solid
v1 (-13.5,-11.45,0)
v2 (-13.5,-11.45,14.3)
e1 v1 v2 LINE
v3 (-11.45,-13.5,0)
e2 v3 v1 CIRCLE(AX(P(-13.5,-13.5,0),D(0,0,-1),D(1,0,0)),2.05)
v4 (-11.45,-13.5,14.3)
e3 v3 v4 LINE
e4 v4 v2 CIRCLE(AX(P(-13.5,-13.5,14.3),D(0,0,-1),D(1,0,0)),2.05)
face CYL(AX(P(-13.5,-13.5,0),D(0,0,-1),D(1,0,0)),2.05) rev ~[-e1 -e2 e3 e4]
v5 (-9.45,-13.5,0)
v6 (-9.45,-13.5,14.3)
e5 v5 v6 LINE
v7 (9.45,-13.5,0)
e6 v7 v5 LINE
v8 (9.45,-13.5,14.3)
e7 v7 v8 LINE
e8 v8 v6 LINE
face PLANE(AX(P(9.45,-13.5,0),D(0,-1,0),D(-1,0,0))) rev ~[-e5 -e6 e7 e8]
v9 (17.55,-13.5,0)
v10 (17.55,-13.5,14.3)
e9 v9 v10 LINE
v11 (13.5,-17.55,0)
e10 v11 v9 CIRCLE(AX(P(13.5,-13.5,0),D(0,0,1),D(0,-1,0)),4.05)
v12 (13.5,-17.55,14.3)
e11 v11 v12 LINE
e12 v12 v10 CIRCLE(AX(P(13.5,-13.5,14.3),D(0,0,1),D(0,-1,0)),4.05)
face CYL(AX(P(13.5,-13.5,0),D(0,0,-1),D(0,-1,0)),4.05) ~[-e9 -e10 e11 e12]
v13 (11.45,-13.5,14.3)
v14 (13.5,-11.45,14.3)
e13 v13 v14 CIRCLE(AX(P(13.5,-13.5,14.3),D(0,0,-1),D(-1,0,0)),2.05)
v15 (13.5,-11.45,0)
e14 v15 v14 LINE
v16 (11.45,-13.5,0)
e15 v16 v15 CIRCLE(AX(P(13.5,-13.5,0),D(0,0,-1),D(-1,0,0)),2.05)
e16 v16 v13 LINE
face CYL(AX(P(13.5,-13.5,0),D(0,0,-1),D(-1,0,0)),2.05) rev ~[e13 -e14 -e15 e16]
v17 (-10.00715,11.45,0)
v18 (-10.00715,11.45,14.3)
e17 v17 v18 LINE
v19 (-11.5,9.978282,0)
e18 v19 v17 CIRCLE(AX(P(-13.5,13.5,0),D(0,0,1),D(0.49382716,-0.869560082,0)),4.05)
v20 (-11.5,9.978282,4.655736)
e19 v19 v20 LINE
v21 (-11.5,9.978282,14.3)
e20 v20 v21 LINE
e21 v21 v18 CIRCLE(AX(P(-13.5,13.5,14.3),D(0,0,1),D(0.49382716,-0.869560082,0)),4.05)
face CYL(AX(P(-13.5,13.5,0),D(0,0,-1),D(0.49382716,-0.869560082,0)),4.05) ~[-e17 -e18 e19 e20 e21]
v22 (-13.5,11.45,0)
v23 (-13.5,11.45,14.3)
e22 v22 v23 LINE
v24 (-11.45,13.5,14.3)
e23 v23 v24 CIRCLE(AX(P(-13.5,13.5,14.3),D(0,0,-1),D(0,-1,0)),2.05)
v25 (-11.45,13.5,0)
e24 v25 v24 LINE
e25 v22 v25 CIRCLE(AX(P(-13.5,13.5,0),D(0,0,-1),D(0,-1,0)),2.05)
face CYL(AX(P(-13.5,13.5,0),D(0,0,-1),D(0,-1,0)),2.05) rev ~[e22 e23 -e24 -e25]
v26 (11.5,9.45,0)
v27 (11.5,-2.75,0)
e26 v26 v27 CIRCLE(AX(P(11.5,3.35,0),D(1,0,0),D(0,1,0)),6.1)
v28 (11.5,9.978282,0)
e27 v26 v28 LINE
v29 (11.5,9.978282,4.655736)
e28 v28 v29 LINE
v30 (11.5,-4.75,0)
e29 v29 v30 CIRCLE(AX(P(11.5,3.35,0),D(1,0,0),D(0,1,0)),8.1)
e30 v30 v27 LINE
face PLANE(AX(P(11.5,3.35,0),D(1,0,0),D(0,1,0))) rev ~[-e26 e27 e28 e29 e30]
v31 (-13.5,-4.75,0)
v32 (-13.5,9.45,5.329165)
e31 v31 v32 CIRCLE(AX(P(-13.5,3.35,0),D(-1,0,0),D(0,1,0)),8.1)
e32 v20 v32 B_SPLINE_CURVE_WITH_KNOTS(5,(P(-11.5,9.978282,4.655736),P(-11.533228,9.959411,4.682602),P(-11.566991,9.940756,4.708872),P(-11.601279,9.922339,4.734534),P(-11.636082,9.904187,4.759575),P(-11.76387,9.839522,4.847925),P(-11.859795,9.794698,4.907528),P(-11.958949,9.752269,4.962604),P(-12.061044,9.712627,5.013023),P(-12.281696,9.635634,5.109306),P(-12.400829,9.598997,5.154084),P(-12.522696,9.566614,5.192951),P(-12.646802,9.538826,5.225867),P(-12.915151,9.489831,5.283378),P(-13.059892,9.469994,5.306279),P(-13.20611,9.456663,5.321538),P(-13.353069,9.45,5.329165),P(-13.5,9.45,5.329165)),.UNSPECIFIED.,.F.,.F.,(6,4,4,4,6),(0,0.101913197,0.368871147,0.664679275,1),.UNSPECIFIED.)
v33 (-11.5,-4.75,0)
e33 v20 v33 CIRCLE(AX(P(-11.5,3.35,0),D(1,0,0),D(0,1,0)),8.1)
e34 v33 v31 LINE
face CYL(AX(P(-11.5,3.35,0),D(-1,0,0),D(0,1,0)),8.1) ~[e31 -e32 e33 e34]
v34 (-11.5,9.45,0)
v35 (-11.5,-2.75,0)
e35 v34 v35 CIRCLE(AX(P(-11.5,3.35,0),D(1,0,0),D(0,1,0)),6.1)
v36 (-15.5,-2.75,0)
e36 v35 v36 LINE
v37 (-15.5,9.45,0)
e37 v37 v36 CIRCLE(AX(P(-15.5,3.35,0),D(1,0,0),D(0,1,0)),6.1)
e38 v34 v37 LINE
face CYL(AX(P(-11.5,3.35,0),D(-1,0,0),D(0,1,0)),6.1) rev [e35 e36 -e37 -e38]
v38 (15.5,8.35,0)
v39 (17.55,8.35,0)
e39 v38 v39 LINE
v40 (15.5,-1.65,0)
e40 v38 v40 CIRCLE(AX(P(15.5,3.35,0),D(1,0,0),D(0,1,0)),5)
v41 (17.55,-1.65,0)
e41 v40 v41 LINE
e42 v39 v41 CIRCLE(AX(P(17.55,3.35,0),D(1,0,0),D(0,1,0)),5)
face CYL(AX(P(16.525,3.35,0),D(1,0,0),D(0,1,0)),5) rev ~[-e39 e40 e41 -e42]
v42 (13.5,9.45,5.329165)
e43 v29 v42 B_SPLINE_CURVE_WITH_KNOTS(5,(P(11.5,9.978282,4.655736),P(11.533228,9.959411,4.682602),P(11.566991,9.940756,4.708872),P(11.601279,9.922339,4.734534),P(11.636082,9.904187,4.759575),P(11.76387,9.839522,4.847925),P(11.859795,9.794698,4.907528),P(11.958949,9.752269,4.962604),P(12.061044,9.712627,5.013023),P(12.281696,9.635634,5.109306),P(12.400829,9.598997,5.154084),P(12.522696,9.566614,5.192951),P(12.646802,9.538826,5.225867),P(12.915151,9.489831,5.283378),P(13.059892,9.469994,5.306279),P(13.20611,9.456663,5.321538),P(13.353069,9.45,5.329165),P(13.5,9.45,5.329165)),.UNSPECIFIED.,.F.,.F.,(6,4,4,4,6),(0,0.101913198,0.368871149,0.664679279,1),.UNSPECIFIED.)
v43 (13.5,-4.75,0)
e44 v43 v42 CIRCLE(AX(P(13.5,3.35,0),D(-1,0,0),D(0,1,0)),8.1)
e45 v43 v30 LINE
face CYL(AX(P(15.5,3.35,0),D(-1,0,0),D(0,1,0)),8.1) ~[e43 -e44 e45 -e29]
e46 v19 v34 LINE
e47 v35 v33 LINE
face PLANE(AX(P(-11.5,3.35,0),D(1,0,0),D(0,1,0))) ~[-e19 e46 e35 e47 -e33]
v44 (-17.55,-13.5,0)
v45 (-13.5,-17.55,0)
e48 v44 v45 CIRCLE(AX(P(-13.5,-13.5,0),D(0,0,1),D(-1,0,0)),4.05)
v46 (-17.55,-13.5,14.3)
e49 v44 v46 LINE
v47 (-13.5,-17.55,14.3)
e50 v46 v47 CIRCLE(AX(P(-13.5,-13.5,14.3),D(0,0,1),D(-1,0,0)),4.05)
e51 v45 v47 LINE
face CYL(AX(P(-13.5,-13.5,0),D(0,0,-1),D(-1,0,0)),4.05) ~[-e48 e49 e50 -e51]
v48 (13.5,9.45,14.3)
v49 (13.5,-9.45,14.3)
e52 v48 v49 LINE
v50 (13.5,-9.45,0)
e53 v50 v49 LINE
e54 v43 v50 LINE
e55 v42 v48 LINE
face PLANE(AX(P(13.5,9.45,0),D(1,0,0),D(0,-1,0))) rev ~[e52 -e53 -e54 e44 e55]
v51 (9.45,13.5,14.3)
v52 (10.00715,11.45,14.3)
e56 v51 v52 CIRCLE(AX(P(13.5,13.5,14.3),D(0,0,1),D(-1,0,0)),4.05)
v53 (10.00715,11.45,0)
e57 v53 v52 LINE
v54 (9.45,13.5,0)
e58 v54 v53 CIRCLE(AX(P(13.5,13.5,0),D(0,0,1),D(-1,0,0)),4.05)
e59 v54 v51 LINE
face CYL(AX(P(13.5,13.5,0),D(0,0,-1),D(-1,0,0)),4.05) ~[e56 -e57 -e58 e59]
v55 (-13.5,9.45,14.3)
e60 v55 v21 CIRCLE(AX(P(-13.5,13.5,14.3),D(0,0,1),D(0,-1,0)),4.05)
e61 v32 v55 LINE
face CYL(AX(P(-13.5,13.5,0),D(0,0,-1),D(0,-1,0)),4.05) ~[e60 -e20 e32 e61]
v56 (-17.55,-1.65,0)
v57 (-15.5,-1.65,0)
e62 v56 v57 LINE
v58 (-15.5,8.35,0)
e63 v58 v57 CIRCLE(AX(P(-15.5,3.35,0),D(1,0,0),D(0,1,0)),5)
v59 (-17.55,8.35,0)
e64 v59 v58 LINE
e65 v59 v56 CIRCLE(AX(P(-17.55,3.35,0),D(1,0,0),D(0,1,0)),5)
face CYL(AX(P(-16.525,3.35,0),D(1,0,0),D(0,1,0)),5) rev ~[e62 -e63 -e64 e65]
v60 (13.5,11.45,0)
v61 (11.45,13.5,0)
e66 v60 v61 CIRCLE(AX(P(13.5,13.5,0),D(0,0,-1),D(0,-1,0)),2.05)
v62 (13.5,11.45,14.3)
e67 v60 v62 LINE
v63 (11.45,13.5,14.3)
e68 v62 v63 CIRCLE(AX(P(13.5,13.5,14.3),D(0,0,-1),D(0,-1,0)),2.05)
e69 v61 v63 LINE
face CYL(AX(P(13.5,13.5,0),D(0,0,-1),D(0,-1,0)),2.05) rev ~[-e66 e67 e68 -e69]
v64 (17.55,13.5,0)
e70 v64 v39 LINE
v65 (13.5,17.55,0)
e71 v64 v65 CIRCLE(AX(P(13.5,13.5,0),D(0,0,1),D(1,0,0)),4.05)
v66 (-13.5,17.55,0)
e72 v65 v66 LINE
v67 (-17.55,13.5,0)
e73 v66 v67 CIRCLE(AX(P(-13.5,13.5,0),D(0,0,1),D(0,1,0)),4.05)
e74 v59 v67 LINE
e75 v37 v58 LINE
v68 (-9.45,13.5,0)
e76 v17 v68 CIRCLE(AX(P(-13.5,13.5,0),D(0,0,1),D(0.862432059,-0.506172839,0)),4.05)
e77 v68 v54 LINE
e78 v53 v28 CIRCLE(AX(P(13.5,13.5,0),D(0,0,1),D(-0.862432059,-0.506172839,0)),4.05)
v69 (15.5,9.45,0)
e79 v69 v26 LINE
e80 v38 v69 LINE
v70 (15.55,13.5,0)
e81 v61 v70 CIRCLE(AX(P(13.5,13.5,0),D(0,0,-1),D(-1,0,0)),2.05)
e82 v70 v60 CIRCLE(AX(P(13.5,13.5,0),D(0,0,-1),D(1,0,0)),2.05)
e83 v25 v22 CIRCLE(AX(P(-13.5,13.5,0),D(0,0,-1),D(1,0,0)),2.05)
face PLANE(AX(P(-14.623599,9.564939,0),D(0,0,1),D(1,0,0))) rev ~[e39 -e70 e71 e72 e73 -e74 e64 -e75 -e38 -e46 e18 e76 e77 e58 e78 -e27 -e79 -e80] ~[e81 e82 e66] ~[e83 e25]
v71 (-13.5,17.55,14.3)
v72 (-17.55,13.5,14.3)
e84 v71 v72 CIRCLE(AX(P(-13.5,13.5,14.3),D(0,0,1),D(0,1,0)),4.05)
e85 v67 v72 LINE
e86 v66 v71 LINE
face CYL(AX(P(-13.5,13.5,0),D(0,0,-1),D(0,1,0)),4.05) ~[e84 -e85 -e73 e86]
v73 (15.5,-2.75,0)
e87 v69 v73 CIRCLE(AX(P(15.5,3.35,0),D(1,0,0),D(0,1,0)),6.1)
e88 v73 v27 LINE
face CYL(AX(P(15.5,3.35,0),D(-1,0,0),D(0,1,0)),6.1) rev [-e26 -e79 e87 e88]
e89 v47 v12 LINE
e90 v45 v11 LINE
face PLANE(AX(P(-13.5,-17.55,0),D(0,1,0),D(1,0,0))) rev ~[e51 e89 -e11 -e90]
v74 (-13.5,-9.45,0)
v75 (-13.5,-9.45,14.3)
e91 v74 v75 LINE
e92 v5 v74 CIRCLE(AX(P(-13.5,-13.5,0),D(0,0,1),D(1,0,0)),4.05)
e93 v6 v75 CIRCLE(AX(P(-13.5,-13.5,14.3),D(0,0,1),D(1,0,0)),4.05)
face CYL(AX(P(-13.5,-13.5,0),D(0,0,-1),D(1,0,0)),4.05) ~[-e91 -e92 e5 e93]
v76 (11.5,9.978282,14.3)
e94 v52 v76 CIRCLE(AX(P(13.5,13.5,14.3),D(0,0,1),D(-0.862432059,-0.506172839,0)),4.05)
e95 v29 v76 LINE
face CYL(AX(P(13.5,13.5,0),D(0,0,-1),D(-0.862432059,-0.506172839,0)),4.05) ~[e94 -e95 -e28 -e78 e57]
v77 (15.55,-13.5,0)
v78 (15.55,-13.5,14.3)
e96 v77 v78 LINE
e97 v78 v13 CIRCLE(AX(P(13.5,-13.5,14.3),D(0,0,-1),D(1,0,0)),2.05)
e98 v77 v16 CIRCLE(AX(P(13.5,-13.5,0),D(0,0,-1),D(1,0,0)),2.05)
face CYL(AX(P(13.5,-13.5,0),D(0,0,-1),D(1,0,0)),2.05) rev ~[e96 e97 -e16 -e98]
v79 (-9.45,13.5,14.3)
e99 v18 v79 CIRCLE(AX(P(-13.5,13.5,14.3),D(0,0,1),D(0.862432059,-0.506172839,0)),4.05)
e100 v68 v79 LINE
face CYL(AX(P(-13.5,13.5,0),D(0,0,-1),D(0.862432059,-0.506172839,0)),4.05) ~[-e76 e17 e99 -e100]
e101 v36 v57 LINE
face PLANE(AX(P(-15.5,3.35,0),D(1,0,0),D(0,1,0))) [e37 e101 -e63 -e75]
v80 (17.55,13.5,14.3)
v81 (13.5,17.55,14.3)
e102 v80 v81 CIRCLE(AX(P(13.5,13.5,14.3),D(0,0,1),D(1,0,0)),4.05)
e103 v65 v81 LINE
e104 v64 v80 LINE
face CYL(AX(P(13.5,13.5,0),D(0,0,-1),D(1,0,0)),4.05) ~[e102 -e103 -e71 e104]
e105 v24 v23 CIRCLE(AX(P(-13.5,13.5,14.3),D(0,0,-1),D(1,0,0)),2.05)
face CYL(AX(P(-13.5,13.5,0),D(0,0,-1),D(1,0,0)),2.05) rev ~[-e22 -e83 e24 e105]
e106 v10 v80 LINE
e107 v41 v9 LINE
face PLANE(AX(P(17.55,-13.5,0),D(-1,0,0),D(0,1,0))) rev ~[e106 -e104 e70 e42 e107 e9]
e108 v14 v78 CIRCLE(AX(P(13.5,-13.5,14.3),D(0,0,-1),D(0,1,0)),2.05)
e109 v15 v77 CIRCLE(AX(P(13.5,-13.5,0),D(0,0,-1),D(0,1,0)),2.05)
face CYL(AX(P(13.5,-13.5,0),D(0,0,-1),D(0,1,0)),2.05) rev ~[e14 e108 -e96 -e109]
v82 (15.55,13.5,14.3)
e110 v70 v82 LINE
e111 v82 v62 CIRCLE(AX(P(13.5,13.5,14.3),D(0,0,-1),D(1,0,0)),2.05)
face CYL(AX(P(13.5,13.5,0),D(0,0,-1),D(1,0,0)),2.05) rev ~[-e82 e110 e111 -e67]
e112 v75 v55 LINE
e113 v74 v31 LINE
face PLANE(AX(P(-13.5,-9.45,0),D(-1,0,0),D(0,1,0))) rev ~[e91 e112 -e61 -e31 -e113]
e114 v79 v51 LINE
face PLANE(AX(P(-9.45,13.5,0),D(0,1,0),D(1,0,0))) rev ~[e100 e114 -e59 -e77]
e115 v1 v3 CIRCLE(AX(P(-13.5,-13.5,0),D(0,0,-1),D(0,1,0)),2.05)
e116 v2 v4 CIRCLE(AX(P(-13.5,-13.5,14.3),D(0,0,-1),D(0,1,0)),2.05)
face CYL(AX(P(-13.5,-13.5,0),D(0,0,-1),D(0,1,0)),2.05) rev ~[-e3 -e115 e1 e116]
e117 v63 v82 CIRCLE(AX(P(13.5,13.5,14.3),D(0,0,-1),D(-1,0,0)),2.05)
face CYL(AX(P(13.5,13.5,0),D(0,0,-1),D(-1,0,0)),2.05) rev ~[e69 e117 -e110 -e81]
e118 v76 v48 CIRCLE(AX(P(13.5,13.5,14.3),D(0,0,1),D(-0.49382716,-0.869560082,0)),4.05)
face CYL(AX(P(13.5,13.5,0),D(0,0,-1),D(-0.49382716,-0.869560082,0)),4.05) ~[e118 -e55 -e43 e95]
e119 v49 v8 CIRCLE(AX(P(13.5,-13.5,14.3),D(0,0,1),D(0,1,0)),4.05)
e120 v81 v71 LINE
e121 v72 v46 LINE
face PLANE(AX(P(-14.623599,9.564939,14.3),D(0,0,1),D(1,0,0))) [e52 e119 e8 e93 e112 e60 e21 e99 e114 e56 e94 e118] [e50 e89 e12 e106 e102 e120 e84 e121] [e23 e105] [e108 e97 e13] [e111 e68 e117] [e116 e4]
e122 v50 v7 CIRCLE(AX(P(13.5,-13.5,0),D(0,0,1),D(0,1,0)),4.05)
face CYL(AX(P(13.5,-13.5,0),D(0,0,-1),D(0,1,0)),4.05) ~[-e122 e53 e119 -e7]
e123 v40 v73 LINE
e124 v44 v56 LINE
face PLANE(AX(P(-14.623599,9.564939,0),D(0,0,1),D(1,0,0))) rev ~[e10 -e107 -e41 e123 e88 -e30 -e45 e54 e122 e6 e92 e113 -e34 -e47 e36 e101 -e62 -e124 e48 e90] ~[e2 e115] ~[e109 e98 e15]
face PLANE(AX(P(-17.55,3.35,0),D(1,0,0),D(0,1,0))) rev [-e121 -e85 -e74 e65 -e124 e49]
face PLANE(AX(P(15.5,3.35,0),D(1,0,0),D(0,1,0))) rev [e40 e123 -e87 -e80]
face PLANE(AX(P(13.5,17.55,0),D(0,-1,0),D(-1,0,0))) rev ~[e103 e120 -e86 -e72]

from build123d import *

# Parameters (mm, degrees)
F0_W     = 2
F0_H     = 6.1
F0_H_2   = 2
F0_W_2   = 2.05
F0_H_3   = 5
F1_DEPTH = 14.3
F2_ANGLE = 180
F3_ANGLE = 180


with BuildPart() as f1:
    # F0 (on Top) → F1 (new body)
    with BuildSketch(Plane.XY):
        with BuildLine():
            ThreePointArc((-13.5, 9.45), (-14.5342970466, 9.5842970466), (-15.5, 9.9782816694))
            Line((-15.5, 9.9782816694), (-15.5, 9.45))
            Line((-15.5, 9.45), (-13.5, 9.45))
        make_face()
        with BuildLine():
            ThreePointArc((-9.45, 13.5), (-10.6362175362, 16.3637824638), (-13.5, 17.55))
            ThreePointArc((-13.5, 17.55), (-16.3637824638, 16.3637824638), (-17.55, 13.5))
            ThreePointArc((-17.55, 13.5), (-17.0001785669, 11.4625383439), (-15.5, 9.9782816694))
            Line((-15.5, 9.9782816694), (-15.5, 11.45))
            Line((-15.5, 11.45), (-13.5, 11.45))
            ThreePointArc((-13.5, 11.45), (-14.9495689014, 14.9495689014), (-11.45, 13.5))
            Line((-11.45, 13.5), (-9.45, 13.5))
        make_face()
        with BuildLine():
            Line((-15.5, 11.45), (-15.5, 9.9782816694))
            ThreePointArc((-15.5, 9.9782816694), (-14.5342970466, 9.5842970466), (-13.5, 9.45))
            Line((-13.5, 9.45), (-13.5, 11.45))
            Line((-13.5, 11.45), (-15.5, 11.45))
        make_face()
        with BuildLine():
            ThreePointArc((-15.5, 9.9782816694), (-17.0001785669, 11.4625383439), (-17.55, 13.5))
            Line((-17.55, 13.5), (-17.55, 8.35))
            Line((-17.55, 8.35), (-15.5, 8.35))
            Line((-15.5, 8.35), (-15.5, 9.45))
            Line((-15.5, 9.45), (-15.5, 9.9782816694))
        make_face()
        with Locations((-14.5, 0.3)):
            Rectangle(F0_W, F0_H)
        with Locations((-14.5, -3.75)):
            Rectangle(F0_W, F0_H_2)
        with BuildLine():
            ThreePointArc((-13.5, -9.45), (-16.3637824638, -10.6362175362), (-17.55, -13.5))
            ThreePointArc((-17.55, -13.5), (-16.3637824638, -16.3637824638), (-13.5, -17.55))
            ThreePointArc((-13.5, -17.55), (-10.6362175362, -16.3637824638), (-9.45, -13.5))
            Line((-9.45, -13.5), (-11.45, -13.5))
            ThreePointArc((-11.45, -13.5), (-14.9495689014, -14.9495689014), (-13.5, -11.45))
            Line((-13.5, -11.45), (-13.5, -9.45))
        make_face()
        with BuildLine():
            Line((-13.5, -17.55), (13.5, -17.55))
            ThreePointArc((13.5, -17.55), (10.6362175362, -16.3637824638), (9.45, -13.5))
            Line((9.45, -13.5), (-9.45, -13.5))
            ThreePointArc((-9.45, -13.5), (-10.6362175362, -16.3637824638), (-13.5, -17.55))
        make_face()
        with BuildLine():
            ThreePointArc((-9.45, -13.5), (-10.6362175362, -10.6362175362), (-13.5, -9.45))
            Line((-13.5, -9.45), (-13.5, -11.45))
            ThreePointArc((-13.5, -11.45), (-12.0504310986, -12.0504310986), (-11.45, -13.5))
            Line((-11.45, -13.5), (-9.45, -13.5))
        make_face()
        with BuildLine():
            ThreePointArc((13.5, -17.55), (16.3637824638, -16.3637824638), (17.55, -13.5))
            ThreePointArc((17.55, -13.5), (16.3637824638, -10.6362175362), (13.5, -9.45))
            Line((13.5, -9.45), (13.5, -11.45))
            ThreePointArc((13.5, -11.45), (14.9495689014, -12.0504310986), (15.55, -13.5))
            ThreePointArc((15.55, -13.5), (13.5, -15.55), (11.45, -13.5))
            Line((11.45, -13.5), (9.45, -13.5))
            ThreePointArc((9.45, -13.5), (10.6362175362, -16.3637824638), (13.5, -17.55))
        make_face()
        with BuildLine():
            Line((13.5, -11.45), (13.5, -9.45))
            ThreePointArc((13.5, -9.45), (10.6362175362, -10.6362175362), (9.45, -13.5))
            Line((9.45, -13.5), (11.45, -13.5))
            ThreePointArc((11.45, -13.5), (12.0504310986, -12.0504310986), (13.5, -11.45))
        make_face()
        with BuildLine():
            Line((17.55, 8.35), (17.55, 13.5))
            ThreePointArc((17.55, 13.5), (17.0001785669, 11.4625383439), (15.5, 9.9782816694))
            Line((15.5, 9.9782816694), (15.5, 9.45))
            Line((15.5, 9.45), (15.5, 8.35))
            Line((15.5, 8.35), (17.55, 8.35))
        make_face()
        with Locations((14.5, -3.75)):
            Rectangle(F0_W, F0_H_2)
        with Locations((14.5, 0.3)):
            Rectangle(F0_W, F0_H)
        with BuildLine():
            Line((15.5, 9.45), (15.5, 9.9782816694))
            ThreePointArc((15.5, 9.9782816694), (14.5342970466, 9.5842970466), (13.5, 9.45))
            Line((13.5, 9.45), (15.5, 9.45))
        make_face()
        with BuildLine():
            ThreePointArc((13.5, 9.45), (14.5342970466, 9.5842970466), (15.5, 9.9782816694))
            Line((15.5, 9.9782816694), (15.5, 11.45))
            Line((15.5, 11.45), (13.5, 11.45))
            Line((13.5, 11.45), (13.5, 9.45))
        make_face()
        with BuildLine():
            ThreePointArc((11.5, 9.9782816694), (12.4657029534, 9.5842970466), (13.5, 9.45))
            Line((13.5, 9.45), (13.5, 11.45))
            Line((13.5, 11.45), (11.5, 11.45))
            Line((11.5, 11.45), (11.5, 9.9782816694))
        make_face()
        with BuildLine():
            Line((11.5, 11.45), (10.0071501607, 11.45))
            ThreePointArc((10.0071501607, 11.45), (10.6567028733, 10.6158776986), (11.5, 9.9782816694))
            Line((11.5, 9.9782816694), (11.5, 11.45))
        make_face()
        with BuildLine():
            Line((11.45, 13.5), (9.45, 13.5))
            ThreePointArc((9.45, 13.5), (9.5917688241, 12.4378187182), (10.0071501607, 11.45))
            Line((10.0071501607, 11.45), (11.5, 11.45))
            Line((11.5, 11.45), (13.5, 11.45))
            ThreePointArc((13.5, 11.45), (12.0504310986, 12.0504310986), (11.45, 13.5))
        make_face()
        with BuildLine():
            ThreePointArc((17.55, 13.5), (16.3637824638, 16.3637824638), (13.5, 17.55))
            ThreePointArc((13.5, 17.55), (10.6362175362, 16.3637824638), (9.45, 13.5))
            Line((9.45, 13.5), (11.45, 13.5))
            ThreePointArc((11.45, 13.5), (13.5, 15.55), (15.55, 13.5))
            ThreePointArc((15.55, 13.5), (14.9495689014, 12.0504310986), (13.5, 11.45))
            Line((13.5, 11.45), (15.5, 11.45))
            Line((15.5, 11.45), (15.5, 9.9782816694))
            ThreePointArc((15.5, 9.9782816694), (17.0001785669, 11.4625383439), (17.55, 13.5))
        make_face()
        with BuildLine():
            ThreePointArc((9.45, 13.5), (10.6362175362, 16.3637824638), (13.5, 17.55))
            Line((13.5, 17.55), (-13.5, 17.55))
            ThreePointArc((-13.5, 17.55), (-10.6362175362, 16.3637824638), (-9.45, 13.5))
            Line((-9.45, 13.5), (9.45, 13.5))
        make_face()
        with BuildLine():
            ThreePointArc((-10.0071501607, 11.45), (-9.5917688241, 12.4378187182), (-9.45, 13.5))
            Line((-9.45, 13.5), (-11.45, 13.5))
            ThreePointArc((-11.45, 13.5), (-12.0504310986, 12.0504310986), (-13.5, 11.45))
            Line((-13.5, 11.45), (-11.5, 11.45))
            Line((-11.5, 11.45), (-10.0071501607, 11.45))
        make_face()
        with BuildLine():
            Line((-11.5, 11.45), (-13.5, 11.45))
            Line((-13.5, 11.45), (-13.5, 9.45))
            ThreePointArc((-13.5, 9.45), (-12.4657029534, 9.5842970466), (-11.5, 9.9782816694))
            Line((-11.5, 9.9782816694), (-11.5, 11.45))
        make_face()
        with BuildLine():
            ThreePointArc((-11.5, 9.9782816694), (-10.6567028733, 10.6158776986), (-10.0071501607, 11.45))
            Line((-10.0071501607, 11.45), (-11.5, 11.45))
            Line((-11.5, 11.45), (-11.5, 9.9782816694))
        make_face()
        with BuildLine():
            Line((-15.5, 3.35), (-17.55, 3.35))
            Line((-17.55, 3.35), (-17.55, -13.5))
            ThreePointArc((-17.55, -13.5), (-16.3637824638, -10.6362175362), (-13.5, -9.45))
            Line((-13.5, -9.45), (-13.5, -4.75))
            Line((-13.5, -4.75), (-15.5, -4.75))
            Line((-15.5, -4.75), (-15.5, -2.75))
            Line((-15.5, -2.75), (-15.5, 3.35))
        make_face()
        with Locations((-16.525, 5.85)):
            Rectangle(F0_W_2, F0_H_3)
        Polygon((-15.5, 9.45), (-15.5, 8.35), (-15.5, 3.35), (-13.5, 3.35), (-13.5, 9.45), align=None)
        with Locations((16.525, 5.85)):
            Rectangle(F0_W_2, F0_H_3)
        Polygon((15.5, 3.35), (15.5, 8.35), (15.5, 9.45), (13.5, 9.45), (13.5, 3.35), align=None)
        with BuildLine():
            Line((17.55, -13.5), (17.55, 3.35))
            Line((17.55, 3.35), (15.5, 3.35))
            Line((15.5, 3.35), (15.5, -2.75))
            Line((15.5, -2.75), (15.5, -4.75))
            Line((15.5, -4.75), (13.5, -4.75))
            Line((13.5, -4.75), (13.5, -9.45))
            ThreePointArc((13.5, -9.45), (16.3637824638, -10.6362175362), (17.55, -13.5))
        make_face()
    extrude(amount=F1_DEPTH)

    # F0 (on Top) → F2 (revolve)
    with BuildSketch(Plane.XY):
        with Locations((-16.525, 5.85)):
            Rectangle(F0_W_2, F0_H_3)
        Polygon((-15.5, 9.45), (-15.5, 8.35), (-15.5, 3.35), (-13.5, 3.35), (-13.5, 9.45), align=None)
        with Locations((-12.5, 6.4)):
            Rectangle(F0_W, F0_H)
        with BuildLine():
            Line((-11.5, 11.45), (-13.5, 11.45))
            Line((-13.5, 11.45), (-13.5, 9.45))
            ThreePointArc((-13.5, 9.45), (-12.4657029534, 9.5842970466), (-11.5, 9.9782816694))
            Line((-11.5, 9.9782816694), (-11.5, 11.45))
        make_face()
        with BuildLine():
            Line((-15.5, 11.45), (-15.5, 9.9782816694))
            ThreePointArc((-15.5, 9.9782816694), (-14.5342970466, 9.5842970466), (-13.5, 9.45))
            Line((-13.5, 9.45), (-13.5, 11.45))
            Line((-13.5, 11.45), (-15.5, 11.45))
        make_face()
        with BuildLine():
            ThreePointArc((11.5, 9.9782816694), (12.4657029534, 9.5842970466), (13.5, 9.45))
            Line((13.5, 9.45), (13.5, 11.45))
            Line((13.5, 11.45), (11.5, 11.45))
            Line((11.5, 11.45), (11.5, 9.9782816694))
        make_face()
        with Locations((12.5, 6.4)):
            Rectangle(F0_W, F0_H)
        Polygon((15.5, 3.35), (15.5, 8.35), (15.5, 9.45), (13.5, 9.45), (13.5, 3.35), align=None)
        with BuildLine():
            ThreePointArc((13.5, 9.45), (14.5342970466, 9.5842970466), (15.5, 9.9782816694))
            Line((15.5, 9.9782816694), (15.5, 11.45))
            Line((15.5, 11.45), (13.5, 11.45))
            Line((13.5, 11.45), (13.5, 9.45))
        make_face()
        with Locations((16.525, 5.85)):
            Rectangle(F0_W_2, F0_H_3)
        with BuildLine():
            Line((-11.5, 9.45), (-11.5, 9.9782816694))
            ThreePointArc((-11.5, 9.9782816694), (-12.4657029534, 9.5842970466), (-13.5, 9.45))
            Line((-13.5, 9.45), (-11.5, 9.45))
        make_face()
        with BuildLine():
            ThreePointArc((-13.5, 9.45), (-14.5342970466, 9.5842970466), (-15.5, 9.9782816694))
            Line((-15.5, 9.9782816694), (-15.5, 9.45))
            Line((-15.5, 9.45), (-13.5, 9.45))
        make_face()
        with BuildLine():
            Line((15.5, 9.45), (15.5, 9.9782816694))
            ThreePointArc((15.5, 9.9782816694), (14.5342970466, 9.5842970466), (13.5, 9.45))
            Line((13.5, 9.45), (15.5, 9.45))
        make_face()
        with BuildLine():
            Line((11.5, 9.45), (13.5, 9.45))
            ThreePointArc((13.5, 9.45), (12.4657029534, 9.5842970466), (11.5, 9.9782816694))
            Line((11.5, 9.9782816694), (11.5, 9.45))
        make_face()
    revolve(axis=Axis((0, 3.35, 0), (1, 0, 0)), revolution_arc=F2_ANGLE)

    # F0 (on Top) → F3 (revolve, cut)
    with BuildSketch(Plane.XY):
        Polygon((15.5, 3.35), (15.5, 8.35), (15.5, 9.45), (13.5, 9.45), (13.5, 3.35), align=None)
        with Locations((16.525, 5.85)):
            Rectangle(F0_W_2, F0_H_3)
        with Locations((12.5, 6.4)):
            Rectangle(F0_W, F0_H)
        with Locations((-12.5, 6.4)):
            Rectangle(F0_W, F0_H)
        Polygon((-15.5, 9.45), (-15.5, 8.35), (-15.5, 3.35), (-13.5, 3.35), (-13.5, 9.45), align=None)
        with Locations((-16.525, 5.85)):
            Rectangle(F0_W_2, F0_H_3)
    revolve(axis=Axis((0, 3.35, 0), (1, 0, 0)), revolution_arc=F3_ANGLE, mode=Mode.SUBTRACT)


solid = f1.part
